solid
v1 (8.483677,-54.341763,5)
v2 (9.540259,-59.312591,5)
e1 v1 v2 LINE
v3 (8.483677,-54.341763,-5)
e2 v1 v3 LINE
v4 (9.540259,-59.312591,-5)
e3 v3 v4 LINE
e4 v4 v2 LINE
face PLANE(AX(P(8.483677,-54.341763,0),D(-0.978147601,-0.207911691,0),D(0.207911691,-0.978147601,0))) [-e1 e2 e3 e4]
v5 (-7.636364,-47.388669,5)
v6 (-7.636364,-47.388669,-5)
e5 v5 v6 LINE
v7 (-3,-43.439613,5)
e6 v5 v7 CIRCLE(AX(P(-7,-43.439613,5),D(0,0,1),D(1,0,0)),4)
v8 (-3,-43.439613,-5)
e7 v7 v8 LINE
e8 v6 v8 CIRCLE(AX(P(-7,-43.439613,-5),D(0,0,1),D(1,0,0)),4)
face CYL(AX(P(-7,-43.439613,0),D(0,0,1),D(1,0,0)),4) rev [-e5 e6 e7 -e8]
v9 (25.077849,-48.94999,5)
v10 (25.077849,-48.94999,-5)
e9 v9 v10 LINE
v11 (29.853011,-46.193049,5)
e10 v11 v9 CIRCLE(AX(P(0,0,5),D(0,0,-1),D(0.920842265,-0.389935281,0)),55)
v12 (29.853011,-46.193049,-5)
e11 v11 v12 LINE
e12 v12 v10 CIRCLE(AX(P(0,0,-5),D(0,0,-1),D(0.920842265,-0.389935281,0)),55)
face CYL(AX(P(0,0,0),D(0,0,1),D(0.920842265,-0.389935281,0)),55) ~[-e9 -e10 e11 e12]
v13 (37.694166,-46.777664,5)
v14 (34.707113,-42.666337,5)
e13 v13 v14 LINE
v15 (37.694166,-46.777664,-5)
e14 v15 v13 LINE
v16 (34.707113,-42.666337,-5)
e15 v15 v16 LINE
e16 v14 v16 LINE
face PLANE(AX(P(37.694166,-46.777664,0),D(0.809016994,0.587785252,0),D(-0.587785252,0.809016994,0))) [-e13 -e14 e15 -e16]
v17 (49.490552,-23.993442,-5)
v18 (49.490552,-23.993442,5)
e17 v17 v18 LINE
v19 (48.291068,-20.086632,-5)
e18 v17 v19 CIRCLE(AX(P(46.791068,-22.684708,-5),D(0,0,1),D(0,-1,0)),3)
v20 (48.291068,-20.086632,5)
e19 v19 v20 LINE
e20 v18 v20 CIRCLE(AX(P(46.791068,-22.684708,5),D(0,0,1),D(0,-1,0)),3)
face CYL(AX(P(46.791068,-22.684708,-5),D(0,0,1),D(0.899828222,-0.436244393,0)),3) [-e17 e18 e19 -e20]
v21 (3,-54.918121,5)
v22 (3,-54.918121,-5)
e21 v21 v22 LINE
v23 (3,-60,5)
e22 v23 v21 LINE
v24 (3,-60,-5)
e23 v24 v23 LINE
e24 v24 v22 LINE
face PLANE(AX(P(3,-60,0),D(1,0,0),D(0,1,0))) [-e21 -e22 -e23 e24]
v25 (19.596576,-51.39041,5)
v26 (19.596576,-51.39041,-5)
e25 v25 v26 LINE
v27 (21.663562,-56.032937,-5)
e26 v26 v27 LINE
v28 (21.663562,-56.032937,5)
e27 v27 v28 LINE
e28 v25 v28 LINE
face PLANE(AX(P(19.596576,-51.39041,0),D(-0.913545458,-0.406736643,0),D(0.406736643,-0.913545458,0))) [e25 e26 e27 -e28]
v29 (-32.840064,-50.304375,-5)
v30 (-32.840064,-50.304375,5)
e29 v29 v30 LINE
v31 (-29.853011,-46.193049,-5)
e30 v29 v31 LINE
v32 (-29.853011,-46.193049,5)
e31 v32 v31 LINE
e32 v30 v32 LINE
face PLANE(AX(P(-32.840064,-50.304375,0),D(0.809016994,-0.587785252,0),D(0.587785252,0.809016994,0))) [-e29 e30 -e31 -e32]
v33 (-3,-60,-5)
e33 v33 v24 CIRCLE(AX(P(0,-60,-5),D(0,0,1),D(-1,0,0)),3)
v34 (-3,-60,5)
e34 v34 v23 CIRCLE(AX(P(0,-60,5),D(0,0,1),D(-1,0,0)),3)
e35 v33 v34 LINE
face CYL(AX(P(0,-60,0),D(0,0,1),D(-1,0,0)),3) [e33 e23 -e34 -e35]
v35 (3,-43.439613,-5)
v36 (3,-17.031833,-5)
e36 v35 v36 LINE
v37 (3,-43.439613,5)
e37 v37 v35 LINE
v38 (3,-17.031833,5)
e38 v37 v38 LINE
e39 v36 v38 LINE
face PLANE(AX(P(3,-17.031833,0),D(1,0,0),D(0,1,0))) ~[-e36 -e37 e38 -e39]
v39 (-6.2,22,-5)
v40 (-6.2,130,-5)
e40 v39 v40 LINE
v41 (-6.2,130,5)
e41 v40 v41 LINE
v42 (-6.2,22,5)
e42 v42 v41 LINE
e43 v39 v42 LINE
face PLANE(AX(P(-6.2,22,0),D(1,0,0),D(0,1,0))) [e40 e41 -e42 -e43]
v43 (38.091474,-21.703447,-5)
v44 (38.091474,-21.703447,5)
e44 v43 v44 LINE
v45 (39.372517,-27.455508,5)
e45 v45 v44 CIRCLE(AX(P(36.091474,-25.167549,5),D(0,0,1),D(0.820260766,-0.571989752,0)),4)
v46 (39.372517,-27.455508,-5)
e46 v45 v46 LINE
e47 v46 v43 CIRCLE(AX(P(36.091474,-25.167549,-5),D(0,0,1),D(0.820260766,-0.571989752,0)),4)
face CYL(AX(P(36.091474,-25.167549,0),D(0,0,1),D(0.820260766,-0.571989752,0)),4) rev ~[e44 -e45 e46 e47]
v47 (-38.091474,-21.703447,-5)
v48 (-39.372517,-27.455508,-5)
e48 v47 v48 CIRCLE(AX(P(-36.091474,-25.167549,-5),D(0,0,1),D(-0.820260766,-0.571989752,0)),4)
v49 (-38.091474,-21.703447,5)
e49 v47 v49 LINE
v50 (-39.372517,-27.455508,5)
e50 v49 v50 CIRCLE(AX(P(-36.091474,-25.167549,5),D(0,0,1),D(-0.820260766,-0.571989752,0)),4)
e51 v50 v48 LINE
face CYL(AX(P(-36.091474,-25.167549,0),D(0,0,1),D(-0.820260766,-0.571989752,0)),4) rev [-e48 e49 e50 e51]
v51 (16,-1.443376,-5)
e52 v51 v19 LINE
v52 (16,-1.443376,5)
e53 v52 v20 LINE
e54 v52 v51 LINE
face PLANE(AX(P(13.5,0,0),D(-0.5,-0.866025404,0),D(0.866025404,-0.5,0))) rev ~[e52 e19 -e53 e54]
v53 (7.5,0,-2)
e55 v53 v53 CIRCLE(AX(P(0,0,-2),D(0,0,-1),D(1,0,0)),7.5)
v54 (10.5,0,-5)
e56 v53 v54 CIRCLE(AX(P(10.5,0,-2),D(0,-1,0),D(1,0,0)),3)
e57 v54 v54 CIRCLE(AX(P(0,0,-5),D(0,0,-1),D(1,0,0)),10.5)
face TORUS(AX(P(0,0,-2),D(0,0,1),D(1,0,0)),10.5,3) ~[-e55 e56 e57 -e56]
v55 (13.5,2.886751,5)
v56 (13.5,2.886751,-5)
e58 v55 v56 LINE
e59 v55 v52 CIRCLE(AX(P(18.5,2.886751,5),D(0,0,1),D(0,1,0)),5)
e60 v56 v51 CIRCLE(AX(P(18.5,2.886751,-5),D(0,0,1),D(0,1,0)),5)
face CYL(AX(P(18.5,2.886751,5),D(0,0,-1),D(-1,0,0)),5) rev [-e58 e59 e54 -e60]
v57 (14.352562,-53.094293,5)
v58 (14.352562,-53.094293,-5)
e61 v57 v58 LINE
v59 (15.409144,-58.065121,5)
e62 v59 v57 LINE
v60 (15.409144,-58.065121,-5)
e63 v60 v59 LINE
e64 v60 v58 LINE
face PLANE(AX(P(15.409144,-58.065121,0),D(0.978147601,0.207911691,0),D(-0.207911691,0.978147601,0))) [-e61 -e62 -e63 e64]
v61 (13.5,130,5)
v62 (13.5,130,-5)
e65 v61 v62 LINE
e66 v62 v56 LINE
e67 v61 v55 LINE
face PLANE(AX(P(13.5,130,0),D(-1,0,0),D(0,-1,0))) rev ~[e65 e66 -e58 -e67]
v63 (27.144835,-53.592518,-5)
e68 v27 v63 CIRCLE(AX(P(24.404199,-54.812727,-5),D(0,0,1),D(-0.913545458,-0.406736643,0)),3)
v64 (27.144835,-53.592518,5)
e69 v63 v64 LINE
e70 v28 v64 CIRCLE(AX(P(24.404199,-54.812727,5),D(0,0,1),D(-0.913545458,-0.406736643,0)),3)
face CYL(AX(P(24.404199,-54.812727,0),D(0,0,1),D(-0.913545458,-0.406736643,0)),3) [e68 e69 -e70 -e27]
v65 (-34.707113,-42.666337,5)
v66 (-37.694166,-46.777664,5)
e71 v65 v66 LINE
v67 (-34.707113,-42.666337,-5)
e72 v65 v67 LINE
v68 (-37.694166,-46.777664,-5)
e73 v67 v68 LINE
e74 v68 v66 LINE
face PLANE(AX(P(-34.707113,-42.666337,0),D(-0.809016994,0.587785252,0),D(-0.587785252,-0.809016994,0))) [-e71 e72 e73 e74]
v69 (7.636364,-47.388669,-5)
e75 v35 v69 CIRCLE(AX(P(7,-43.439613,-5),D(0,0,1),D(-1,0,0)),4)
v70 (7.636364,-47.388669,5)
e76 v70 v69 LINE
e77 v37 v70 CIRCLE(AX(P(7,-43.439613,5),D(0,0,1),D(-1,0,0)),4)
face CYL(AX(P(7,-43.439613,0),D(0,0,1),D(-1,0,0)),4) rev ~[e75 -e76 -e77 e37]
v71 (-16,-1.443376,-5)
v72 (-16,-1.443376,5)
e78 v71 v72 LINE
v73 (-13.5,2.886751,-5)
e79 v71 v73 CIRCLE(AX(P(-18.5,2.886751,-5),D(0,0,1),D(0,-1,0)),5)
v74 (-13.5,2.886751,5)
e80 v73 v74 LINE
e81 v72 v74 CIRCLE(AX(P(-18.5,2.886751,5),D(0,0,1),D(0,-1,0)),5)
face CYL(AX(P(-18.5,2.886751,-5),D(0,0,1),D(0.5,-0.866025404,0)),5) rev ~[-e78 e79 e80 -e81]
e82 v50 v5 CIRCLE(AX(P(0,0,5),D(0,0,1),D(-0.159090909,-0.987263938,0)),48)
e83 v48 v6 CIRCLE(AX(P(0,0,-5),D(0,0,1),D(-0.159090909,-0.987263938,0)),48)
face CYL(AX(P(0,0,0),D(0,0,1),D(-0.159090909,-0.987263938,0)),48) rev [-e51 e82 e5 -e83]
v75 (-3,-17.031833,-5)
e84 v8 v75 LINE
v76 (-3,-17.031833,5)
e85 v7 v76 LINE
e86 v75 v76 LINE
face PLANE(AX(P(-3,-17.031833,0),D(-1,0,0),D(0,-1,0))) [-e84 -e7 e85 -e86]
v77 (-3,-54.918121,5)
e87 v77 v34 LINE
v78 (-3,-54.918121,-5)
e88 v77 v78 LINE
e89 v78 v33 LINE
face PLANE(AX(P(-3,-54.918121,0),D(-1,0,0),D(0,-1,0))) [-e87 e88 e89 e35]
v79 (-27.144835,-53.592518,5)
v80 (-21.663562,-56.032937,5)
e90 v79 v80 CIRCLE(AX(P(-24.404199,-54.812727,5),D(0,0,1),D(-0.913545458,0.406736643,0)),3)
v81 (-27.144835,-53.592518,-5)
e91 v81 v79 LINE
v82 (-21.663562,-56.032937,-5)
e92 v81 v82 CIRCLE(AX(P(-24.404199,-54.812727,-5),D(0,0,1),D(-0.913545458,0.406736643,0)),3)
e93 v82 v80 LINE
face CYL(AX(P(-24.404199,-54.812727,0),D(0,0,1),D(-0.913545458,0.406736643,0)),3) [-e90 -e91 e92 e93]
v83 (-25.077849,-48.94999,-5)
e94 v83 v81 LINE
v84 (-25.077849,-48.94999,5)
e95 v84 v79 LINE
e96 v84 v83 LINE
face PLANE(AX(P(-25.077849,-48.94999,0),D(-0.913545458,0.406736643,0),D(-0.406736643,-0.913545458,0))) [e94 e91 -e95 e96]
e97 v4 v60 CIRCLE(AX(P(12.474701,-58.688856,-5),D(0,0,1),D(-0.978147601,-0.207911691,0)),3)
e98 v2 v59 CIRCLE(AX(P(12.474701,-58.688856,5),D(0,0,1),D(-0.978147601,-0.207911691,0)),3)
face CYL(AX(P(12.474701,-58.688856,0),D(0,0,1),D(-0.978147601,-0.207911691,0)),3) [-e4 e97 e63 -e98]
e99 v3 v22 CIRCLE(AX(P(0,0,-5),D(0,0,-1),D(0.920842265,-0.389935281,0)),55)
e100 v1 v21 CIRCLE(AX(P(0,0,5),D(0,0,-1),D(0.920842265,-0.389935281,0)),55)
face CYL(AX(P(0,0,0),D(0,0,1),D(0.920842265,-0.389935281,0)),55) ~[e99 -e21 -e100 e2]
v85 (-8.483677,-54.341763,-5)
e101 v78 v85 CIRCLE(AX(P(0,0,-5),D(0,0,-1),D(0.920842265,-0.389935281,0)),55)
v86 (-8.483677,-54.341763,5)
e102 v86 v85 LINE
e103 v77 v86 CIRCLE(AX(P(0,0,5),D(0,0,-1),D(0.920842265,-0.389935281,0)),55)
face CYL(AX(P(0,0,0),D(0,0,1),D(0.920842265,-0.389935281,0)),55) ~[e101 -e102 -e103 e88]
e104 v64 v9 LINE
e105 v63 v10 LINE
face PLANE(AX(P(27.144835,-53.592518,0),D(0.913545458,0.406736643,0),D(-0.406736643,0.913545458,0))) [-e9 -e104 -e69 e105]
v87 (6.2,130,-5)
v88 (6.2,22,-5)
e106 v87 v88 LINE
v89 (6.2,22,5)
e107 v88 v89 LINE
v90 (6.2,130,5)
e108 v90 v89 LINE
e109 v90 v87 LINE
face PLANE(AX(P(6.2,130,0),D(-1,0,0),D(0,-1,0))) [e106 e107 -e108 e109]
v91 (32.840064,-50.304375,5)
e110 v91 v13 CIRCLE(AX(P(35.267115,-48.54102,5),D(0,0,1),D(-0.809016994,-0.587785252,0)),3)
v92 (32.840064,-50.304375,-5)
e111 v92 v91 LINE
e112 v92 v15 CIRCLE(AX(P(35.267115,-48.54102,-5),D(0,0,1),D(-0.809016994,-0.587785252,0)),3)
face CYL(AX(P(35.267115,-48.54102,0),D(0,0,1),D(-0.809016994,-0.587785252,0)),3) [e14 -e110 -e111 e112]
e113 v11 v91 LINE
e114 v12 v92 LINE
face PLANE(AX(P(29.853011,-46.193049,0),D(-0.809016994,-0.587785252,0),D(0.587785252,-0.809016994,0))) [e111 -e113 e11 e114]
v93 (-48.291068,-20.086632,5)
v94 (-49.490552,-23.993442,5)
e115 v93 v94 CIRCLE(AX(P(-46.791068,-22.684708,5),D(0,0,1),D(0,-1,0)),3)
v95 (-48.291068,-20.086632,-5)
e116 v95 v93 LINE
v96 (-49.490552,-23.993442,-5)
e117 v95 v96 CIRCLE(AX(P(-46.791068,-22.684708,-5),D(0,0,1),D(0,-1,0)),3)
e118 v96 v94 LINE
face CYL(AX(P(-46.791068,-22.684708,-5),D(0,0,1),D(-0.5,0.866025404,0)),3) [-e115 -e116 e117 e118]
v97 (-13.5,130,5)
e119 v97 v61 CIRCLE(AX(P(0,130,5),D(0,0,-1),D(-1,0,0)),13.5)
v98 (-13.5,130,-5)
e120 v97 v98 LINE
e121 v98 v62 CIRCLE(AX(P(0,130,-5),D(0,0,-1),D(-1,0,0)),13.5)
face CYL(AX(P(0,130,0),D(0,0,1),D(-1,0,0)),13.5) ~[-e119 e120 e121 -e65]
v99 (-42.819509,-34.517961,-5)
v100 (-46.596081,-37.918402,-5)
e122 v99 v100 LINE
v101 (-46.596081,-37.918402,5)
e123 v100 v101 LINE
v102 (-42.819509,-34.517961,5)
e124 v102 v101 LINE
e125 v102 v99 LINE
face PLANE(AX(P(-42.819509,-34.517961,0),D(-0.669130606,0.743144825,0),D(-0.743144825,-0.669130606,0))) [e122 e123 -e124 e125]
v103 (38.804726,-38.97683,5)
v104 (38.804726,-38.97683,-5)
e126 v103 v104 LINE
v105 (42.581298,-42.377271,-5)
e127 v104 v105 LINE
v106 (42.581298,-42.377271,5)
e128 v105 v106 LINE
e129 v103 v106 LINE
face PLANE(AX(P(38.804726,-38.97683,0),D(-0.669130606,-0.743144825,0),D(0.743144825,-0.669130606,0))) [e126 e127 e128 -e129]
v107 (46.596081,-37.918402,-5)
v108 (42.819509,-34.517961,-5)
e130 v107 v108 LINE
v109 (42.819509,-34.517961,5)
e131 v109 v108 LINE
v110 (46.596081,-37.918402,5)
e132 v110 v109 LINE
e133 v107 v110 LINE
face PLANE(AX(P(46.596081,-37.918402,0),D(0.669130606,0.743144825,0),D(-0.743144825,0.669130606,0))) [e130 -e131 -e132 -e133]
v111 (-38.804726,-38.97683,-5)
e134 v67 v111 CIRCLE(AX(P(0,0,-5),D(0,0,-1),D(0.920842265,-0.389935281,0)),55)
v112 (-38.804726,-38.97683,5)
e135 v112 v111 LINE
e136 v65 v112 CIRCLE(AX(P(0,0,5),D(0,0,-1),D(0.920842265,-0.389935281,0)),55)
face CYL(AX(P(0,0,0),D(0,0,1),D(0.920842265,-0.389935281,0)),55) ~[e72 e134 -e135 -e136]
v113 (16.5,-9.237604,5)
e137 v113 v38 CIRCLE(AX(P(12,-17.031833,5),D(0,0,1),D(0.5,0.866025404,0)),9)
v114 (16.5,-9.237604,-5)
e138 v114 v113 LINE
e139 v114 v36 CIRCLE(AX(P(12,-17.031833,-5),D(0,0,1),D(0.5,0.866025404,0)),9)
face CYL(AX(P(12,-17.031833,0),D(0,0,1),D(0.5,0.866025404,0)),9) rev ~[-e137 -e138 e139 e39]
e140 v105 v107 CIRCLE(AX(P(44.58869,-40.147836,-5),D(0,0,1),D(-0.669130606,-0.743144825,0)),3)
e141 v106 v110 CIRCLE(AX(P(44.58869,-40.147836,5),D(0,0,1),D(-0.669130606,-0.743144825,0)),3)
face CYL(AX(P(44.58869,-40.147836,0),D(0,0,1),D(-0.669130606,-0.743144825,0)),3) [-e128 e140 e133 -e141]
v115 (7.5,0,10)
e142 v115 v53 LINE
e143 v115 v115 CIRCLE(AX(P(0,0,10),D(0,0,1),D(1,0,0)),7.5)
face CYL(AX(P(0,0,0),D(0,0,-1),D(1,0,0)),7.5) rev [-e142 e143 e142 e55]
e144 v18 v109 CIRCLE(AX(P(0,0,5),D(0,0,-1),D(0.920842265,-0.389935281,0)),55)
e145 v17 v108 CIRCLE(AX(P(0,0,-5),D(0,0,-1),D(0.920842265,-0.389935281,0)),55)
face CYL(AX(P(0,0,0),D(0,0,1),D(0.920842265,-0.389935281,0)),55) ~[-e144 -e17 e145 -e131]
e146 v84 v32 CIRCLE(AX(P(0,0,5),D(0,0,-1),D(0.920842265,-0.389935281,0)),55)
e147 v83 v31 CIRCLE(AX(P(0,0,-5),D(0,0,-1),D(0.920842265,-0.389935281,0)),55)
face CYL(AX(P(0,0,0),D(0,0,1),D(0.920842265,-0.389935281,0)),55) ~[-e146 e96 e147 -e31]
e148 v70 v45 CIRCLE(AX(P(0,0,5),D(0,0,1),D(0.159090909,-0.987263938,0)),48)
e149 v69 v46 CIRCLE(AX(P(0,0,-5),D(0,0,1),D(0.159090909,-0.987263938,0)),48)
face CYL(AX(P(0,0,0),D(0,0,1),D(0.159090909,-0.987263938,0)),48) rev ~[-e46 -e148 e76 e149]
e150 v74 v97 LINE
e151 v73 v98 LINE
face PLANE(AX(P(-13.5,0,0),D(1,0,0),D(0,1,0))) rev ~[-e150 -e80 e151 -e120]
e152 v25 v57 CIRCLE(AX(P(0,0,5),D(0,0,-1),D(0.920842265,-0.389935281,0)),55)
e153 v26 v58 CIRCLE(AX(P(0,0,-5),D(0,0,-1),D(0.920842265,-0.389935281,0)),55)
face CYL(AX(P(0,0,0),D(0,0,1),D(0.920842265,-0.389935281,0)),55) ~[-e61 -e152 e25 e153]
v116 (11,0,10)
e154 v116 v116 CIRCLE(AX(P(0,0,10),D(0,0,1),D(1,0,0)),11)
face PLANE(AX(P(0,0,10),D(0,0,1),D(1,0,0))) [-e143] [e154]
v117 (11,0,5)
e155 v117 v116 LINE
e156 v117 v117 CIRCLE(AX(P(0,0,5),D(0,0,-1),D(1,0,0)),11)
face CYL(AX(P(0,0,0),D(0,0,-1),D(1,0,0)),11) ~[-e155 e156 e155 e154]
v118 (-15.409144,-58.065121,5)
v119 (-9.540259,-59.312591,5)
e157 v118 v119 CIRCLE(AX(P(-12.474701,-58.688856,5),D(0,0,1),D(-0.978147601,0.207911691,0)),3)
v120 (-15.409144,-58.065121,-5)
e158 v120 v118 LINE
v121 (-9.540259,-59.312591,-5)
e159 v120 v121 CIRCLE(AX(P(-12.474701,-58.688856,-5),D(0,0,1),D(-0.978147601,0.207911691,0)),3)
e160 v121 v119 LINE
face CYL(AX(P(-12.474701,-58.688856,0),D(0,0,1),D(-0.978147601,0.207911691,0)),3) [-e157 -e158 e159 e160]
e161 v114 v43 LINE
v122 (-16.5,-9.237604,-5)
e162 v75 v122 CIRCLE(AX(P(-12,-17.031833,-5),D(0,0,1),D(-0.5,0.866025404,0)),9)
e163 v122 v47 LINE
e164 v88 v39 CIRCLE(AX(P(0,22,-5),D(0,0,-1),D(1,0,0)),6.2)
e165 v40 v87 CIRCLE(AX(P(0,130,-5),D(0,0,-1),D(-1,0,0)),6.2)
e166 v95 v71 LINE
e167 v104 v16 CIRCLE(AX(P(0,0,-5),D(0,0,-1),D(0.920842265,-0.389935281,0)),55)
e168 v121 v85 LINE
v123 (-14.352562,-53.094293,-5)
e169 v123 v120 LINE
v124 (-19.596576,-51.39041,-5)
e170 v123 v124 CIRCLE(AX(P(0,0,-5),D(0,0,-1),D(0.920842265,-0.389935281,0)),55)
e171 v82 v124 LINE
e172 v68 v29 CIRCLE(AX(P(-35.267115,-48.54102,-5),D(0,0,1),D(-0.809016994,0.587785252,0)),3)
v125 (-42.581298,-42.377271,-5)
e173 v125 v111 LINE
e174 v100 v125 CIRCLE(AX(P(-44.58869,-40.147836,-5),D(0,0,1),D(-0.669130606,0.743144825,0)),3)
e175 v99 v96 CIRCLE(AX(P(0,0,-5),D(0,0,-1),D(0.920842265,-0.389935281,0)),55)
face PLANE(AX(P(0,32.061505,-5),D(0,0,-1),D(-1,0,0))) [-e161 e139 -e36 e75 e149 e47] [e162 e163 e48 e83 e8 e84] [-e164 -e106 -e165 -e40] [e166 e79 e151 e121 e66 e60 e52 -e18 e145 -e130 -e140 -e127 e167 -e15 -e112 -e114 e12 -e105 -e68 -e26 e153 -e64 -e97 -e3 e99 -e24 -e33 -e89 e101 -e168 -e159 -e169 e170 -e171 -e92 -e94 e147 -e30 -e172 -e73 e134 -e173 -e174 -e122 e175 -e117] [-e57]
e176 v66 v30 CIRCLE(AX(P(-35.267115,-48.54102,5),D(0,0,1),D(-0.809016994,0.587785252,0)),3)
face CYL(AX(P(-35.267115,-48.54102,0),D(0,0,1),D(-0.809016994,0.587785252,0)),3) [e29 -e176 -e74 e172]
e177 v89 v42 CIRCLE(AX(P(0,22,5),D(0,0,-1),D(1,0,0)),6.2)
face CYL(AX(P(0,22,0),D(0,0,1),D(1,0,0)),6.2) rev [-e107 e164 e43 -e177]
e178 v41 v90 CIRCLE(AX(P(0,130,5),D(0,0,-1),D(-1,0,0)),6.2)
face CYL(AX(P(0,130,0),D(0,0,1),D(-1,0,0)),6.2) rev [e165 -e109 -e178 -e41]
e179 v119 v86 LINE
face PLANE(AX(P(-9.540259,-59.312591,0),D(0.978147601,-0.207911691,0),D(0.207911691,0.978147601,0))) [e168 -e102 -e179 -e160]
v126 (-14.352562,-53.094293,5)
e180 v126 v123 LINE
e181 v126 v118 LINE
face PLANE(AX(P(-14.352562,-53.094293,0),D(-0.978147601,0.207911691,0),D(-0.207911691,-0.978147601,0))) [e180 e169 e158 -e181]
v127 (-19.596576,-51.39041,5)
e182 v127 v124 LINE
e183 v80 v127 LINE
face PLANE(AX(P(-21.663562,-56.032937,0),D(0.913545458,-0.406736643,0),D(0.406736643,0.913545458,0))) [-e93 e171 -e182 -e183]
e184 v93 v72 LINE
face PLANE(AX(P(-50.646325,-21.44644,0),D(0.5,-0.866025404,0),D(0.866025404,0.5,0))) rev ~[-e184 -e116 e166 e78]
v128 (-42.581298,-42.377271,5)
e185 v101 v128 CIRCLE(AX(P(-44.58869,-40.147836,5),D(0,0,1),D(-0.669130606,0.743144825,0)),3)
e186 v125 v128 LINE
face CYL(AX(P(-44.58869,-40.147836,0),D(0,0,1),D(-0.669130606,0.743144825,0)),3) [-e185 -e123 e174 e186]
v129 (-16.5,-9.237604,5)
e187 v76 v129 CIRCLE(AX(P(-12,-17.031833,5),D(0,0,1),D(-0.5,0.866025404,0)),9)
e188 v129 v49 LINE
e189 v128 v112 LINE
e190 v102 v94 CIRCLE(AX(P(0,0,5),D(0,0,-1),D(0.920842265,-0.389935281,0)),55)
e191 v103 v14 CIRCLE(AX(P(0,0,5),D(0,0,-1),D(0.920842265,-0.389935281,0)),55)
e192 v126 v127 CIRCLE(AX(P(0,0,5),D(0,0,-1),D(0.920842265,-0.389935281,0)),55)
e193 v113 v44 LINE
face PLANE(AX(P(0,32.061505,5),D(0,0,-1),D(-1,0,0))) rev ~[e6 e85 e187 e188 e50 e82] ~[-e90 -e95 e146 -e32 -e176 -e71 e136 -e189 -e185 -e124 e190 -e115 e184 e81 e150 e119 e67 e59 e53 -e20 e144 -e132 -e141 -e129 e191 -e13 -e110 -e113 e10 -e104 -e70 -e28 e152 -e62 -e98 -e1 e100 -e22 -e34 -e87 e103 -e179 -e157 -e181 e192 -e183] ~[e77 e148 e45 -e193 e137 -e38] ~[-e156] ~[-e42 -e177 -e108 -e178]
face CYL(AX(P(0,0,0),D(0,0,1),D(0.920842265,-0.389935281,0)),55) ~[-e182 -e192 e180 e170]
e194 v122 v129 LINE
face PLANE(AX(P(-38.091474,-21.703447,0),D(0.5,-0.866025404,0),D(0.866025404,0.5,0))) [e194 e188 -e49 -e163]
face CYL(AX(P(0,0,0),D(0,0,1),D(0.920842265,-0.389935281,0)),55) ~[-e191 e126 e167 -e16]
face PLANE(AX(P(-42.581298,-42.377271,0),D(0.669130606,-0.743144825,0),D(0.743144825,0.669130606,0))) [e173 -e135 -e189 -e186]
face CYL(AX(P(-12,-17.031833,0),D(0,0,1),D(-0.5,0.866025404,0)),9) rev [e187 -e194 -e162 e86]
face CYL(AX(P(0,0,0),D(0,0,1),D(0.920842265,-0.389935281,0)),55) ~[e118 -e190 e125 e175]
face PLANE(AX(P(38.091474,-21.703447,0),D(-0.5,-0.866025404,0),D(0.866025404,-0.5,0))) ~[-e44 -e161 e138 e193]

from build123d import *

# Parameters (mm, degrees)
BOSS_EXTRUDE1_DEPTH             = 5
SKETCH5_R                       = 11
SKETCH5_R_2                     = 7.5
BOSS_EXTRUDE3_DEPTH             = 10
CUT_EXTRUDE2_DEPTH              = 153.503443209
CUT_EXTRUDE2_DEPTH_BACK         = 153.503443209
SKETCH5_2_R                     = 7.5
FILLET1_R                       = 3
FILLET2_R                       = 3
FILLET3_R                       = 5
BOSS_EXTRUDE4_DEPTH             = 5
CIRPATTERN1_COUNT               = 5
CIRPATTERN1_ANGLE               = 48
CIRPATTERN1_THE_OTHER_WAY_COUNT = 5
CIRPATTERN1_THE_OTHER_WAY_ANGLE = 48
CUT_EXTRUDE3_DEPTH              = 153.221550408


with BuildPart() as part:
    # Sketch1 → Boss-Extrude1 (new, symmetric)
    with BuildSketch(Plane.XY):
        with BuildLine():
            Line((-13.5, 0), (-13.5, 130))
            ThreePointArc((-13.5, 130), (0, 143.5), (13.5, 130))
            Line((13.5, 130), (13.5, 0))
            Line((13.5, 0), (50.646324553, -21.44644048))
            ThreePointArc((50.646324553, -21.44644048), (0, -55), (-50.646324553, -21.44644048))
            Line((-50.646324553, -21.44644048), (-13.5, 0))
        make_face()
        with BuildLine():
            Line((6.2, 130), (6.2, 22))
            ThreePointArc((6.2, 22), (0, 15.8), (-6.2, 22))
            Line((-6.2, 22), (-6.2, 130))
            ThreePointArc((-6.2, 130), (0, 136.2), (6.2, 130))
        make_face(mode=Mode.SUBTRACT)
    extrude(amount=BOSS_EXTRUDE1_DEPTH, both=True)

    # Sketch5 → Boss-Extrude3 (add)
    with BuildSketch(Plane.XY):
        Circle(SKETCH5_R)
        Circle(SKETCH5_R_2, mode=Mode.SUBTRACT)
    extrude(amount=BOSS_EXTRUDE3_DEPTH)

    # Sketch5<2> → Cut-Extrude2 (cut, two sides: drawn at the far end of the back side and taken through both)
    with BuildSketch(Plane.XY.offset(-CUT_EXTRUDE2_DEPTH_BACK)):
        Circle(SKETCH5_2_R)
    extrude(amount=CUT_EXTRUDE2_DEPTH + CUT_EXTRUDE2_DEPTH_BACK, mode=Mode.SUBTRACT)

    # Fillet1
    fillet1_edges = [part.edges().sort_by_distance(p)[0] for p in [
        (-7.5, 0, -5),
    ]]
    fillet(fillet1_edges, radius=FILLET1_R)

    # Fillet2
    fillet2_edges = [part.edges().sort_by_distance(p)[0] for p in [
        (50.646324553, -21.44644048, 0),
        (-50.646324553, -21.44644048, 0),
    ]]
    fillet(fillet2_edges, radius=FILLET2_R)

    # Fillet3
    fillet3_edges = [part.edges().sort_by_distance(p)[0] for p in [
        (13.5, 0, 0),
        (-13.5, 0, 0),
    ]]
    fillet(fillet3_edges, radius=FILLET3_R)

    # Sketch4 → Boss-Extrude4 (add, symmetric)
    with BuildSketch(Plane.XY):
        with BuildLine():
            Line((-3, -54.918120871), (-3, -60))
            ThreePointArc((-3, -60), (0, -63), (3, -60))
            Line((3, -60), (3, -54.918120871))
            ThreePointArc((3, -54.918120871), (0, -55), (-3, -54.918120871))
        make_face()
    boss_extrude4 = extrude(amount=BOSS_EXTRUDE4_DEPTH, both=True)

    # CirPattern1: Boss-Extrude4 ×5 about axis
    cirpattern1_axis = Axis((0, 0, 0), (0, 0, 1))
    for i in range(1, CIRPATTERN1_COUNT):
        add(boss_extrude4.rotate(cirpattern1_axis, i * CIRPATTERN1_ANGLE / (CIRPATTERN1_COUNT - 1)))

    # CirPattern1 the other way: Boss-Extrude4 ×5 about axis
    cirpattern1_the_other_way_axis = Axis((0, 0, 0), (0, 0, -1))
    for i in range(1, CIRPATTERN1_THE_OTHER_WAY_COUNT):
        add(boss_extrude4.rotate(cirpattern1_the_other_way_axis, i * CIRPATTERN1_THE_OTHER_WAY_ANGLE / (CIRPATTERN1_THE_OTHER_WAY_COUNT - 1)))

    # Sketch6 → Cut-Extrude3 (cut, symmetric)
    with BuildSketch(Plane.XY):
        with BuildLine():
            Line((-3, -17.031832941), (-3, -43.439613258))
            ThreePointArc((-3, -43.439613258), (-4.406301342, -46.484728571), (-7.636363636, -47.388669009))
            ThreePointArc((-7.636363636, -47.388669009), (-25.530206329, -40.647368486), (-39.372516761, -27.45550808))
            ThreePointArc((-39.372516761, -27.45550808), (-39.995817984, -24.298011443), (-38.091473697, -21.703447458))
            Line((-38.091473697, -21.703447458), (-16.5, -9.237604307))
            ThreePointArc((-16.5, -9.237604307), (-7.5, -9.237604307), (-3, -17.031832941))
        make_face()
    cut_extrude3 = extrude(amount=CUT_EXTRUDE3_DEPTH, both=True, mode=Mode.SUBTRACT)

    # Mirror1: Cut-Extrude3 across plane
    add(cut_extrude3.mirror(Plane(origin=(0, 0, 0), x_dir=(0, 0, 1), z_dir=(1, 0, 0))), mode=Mode.SUBTRACT)


solid = part.part
